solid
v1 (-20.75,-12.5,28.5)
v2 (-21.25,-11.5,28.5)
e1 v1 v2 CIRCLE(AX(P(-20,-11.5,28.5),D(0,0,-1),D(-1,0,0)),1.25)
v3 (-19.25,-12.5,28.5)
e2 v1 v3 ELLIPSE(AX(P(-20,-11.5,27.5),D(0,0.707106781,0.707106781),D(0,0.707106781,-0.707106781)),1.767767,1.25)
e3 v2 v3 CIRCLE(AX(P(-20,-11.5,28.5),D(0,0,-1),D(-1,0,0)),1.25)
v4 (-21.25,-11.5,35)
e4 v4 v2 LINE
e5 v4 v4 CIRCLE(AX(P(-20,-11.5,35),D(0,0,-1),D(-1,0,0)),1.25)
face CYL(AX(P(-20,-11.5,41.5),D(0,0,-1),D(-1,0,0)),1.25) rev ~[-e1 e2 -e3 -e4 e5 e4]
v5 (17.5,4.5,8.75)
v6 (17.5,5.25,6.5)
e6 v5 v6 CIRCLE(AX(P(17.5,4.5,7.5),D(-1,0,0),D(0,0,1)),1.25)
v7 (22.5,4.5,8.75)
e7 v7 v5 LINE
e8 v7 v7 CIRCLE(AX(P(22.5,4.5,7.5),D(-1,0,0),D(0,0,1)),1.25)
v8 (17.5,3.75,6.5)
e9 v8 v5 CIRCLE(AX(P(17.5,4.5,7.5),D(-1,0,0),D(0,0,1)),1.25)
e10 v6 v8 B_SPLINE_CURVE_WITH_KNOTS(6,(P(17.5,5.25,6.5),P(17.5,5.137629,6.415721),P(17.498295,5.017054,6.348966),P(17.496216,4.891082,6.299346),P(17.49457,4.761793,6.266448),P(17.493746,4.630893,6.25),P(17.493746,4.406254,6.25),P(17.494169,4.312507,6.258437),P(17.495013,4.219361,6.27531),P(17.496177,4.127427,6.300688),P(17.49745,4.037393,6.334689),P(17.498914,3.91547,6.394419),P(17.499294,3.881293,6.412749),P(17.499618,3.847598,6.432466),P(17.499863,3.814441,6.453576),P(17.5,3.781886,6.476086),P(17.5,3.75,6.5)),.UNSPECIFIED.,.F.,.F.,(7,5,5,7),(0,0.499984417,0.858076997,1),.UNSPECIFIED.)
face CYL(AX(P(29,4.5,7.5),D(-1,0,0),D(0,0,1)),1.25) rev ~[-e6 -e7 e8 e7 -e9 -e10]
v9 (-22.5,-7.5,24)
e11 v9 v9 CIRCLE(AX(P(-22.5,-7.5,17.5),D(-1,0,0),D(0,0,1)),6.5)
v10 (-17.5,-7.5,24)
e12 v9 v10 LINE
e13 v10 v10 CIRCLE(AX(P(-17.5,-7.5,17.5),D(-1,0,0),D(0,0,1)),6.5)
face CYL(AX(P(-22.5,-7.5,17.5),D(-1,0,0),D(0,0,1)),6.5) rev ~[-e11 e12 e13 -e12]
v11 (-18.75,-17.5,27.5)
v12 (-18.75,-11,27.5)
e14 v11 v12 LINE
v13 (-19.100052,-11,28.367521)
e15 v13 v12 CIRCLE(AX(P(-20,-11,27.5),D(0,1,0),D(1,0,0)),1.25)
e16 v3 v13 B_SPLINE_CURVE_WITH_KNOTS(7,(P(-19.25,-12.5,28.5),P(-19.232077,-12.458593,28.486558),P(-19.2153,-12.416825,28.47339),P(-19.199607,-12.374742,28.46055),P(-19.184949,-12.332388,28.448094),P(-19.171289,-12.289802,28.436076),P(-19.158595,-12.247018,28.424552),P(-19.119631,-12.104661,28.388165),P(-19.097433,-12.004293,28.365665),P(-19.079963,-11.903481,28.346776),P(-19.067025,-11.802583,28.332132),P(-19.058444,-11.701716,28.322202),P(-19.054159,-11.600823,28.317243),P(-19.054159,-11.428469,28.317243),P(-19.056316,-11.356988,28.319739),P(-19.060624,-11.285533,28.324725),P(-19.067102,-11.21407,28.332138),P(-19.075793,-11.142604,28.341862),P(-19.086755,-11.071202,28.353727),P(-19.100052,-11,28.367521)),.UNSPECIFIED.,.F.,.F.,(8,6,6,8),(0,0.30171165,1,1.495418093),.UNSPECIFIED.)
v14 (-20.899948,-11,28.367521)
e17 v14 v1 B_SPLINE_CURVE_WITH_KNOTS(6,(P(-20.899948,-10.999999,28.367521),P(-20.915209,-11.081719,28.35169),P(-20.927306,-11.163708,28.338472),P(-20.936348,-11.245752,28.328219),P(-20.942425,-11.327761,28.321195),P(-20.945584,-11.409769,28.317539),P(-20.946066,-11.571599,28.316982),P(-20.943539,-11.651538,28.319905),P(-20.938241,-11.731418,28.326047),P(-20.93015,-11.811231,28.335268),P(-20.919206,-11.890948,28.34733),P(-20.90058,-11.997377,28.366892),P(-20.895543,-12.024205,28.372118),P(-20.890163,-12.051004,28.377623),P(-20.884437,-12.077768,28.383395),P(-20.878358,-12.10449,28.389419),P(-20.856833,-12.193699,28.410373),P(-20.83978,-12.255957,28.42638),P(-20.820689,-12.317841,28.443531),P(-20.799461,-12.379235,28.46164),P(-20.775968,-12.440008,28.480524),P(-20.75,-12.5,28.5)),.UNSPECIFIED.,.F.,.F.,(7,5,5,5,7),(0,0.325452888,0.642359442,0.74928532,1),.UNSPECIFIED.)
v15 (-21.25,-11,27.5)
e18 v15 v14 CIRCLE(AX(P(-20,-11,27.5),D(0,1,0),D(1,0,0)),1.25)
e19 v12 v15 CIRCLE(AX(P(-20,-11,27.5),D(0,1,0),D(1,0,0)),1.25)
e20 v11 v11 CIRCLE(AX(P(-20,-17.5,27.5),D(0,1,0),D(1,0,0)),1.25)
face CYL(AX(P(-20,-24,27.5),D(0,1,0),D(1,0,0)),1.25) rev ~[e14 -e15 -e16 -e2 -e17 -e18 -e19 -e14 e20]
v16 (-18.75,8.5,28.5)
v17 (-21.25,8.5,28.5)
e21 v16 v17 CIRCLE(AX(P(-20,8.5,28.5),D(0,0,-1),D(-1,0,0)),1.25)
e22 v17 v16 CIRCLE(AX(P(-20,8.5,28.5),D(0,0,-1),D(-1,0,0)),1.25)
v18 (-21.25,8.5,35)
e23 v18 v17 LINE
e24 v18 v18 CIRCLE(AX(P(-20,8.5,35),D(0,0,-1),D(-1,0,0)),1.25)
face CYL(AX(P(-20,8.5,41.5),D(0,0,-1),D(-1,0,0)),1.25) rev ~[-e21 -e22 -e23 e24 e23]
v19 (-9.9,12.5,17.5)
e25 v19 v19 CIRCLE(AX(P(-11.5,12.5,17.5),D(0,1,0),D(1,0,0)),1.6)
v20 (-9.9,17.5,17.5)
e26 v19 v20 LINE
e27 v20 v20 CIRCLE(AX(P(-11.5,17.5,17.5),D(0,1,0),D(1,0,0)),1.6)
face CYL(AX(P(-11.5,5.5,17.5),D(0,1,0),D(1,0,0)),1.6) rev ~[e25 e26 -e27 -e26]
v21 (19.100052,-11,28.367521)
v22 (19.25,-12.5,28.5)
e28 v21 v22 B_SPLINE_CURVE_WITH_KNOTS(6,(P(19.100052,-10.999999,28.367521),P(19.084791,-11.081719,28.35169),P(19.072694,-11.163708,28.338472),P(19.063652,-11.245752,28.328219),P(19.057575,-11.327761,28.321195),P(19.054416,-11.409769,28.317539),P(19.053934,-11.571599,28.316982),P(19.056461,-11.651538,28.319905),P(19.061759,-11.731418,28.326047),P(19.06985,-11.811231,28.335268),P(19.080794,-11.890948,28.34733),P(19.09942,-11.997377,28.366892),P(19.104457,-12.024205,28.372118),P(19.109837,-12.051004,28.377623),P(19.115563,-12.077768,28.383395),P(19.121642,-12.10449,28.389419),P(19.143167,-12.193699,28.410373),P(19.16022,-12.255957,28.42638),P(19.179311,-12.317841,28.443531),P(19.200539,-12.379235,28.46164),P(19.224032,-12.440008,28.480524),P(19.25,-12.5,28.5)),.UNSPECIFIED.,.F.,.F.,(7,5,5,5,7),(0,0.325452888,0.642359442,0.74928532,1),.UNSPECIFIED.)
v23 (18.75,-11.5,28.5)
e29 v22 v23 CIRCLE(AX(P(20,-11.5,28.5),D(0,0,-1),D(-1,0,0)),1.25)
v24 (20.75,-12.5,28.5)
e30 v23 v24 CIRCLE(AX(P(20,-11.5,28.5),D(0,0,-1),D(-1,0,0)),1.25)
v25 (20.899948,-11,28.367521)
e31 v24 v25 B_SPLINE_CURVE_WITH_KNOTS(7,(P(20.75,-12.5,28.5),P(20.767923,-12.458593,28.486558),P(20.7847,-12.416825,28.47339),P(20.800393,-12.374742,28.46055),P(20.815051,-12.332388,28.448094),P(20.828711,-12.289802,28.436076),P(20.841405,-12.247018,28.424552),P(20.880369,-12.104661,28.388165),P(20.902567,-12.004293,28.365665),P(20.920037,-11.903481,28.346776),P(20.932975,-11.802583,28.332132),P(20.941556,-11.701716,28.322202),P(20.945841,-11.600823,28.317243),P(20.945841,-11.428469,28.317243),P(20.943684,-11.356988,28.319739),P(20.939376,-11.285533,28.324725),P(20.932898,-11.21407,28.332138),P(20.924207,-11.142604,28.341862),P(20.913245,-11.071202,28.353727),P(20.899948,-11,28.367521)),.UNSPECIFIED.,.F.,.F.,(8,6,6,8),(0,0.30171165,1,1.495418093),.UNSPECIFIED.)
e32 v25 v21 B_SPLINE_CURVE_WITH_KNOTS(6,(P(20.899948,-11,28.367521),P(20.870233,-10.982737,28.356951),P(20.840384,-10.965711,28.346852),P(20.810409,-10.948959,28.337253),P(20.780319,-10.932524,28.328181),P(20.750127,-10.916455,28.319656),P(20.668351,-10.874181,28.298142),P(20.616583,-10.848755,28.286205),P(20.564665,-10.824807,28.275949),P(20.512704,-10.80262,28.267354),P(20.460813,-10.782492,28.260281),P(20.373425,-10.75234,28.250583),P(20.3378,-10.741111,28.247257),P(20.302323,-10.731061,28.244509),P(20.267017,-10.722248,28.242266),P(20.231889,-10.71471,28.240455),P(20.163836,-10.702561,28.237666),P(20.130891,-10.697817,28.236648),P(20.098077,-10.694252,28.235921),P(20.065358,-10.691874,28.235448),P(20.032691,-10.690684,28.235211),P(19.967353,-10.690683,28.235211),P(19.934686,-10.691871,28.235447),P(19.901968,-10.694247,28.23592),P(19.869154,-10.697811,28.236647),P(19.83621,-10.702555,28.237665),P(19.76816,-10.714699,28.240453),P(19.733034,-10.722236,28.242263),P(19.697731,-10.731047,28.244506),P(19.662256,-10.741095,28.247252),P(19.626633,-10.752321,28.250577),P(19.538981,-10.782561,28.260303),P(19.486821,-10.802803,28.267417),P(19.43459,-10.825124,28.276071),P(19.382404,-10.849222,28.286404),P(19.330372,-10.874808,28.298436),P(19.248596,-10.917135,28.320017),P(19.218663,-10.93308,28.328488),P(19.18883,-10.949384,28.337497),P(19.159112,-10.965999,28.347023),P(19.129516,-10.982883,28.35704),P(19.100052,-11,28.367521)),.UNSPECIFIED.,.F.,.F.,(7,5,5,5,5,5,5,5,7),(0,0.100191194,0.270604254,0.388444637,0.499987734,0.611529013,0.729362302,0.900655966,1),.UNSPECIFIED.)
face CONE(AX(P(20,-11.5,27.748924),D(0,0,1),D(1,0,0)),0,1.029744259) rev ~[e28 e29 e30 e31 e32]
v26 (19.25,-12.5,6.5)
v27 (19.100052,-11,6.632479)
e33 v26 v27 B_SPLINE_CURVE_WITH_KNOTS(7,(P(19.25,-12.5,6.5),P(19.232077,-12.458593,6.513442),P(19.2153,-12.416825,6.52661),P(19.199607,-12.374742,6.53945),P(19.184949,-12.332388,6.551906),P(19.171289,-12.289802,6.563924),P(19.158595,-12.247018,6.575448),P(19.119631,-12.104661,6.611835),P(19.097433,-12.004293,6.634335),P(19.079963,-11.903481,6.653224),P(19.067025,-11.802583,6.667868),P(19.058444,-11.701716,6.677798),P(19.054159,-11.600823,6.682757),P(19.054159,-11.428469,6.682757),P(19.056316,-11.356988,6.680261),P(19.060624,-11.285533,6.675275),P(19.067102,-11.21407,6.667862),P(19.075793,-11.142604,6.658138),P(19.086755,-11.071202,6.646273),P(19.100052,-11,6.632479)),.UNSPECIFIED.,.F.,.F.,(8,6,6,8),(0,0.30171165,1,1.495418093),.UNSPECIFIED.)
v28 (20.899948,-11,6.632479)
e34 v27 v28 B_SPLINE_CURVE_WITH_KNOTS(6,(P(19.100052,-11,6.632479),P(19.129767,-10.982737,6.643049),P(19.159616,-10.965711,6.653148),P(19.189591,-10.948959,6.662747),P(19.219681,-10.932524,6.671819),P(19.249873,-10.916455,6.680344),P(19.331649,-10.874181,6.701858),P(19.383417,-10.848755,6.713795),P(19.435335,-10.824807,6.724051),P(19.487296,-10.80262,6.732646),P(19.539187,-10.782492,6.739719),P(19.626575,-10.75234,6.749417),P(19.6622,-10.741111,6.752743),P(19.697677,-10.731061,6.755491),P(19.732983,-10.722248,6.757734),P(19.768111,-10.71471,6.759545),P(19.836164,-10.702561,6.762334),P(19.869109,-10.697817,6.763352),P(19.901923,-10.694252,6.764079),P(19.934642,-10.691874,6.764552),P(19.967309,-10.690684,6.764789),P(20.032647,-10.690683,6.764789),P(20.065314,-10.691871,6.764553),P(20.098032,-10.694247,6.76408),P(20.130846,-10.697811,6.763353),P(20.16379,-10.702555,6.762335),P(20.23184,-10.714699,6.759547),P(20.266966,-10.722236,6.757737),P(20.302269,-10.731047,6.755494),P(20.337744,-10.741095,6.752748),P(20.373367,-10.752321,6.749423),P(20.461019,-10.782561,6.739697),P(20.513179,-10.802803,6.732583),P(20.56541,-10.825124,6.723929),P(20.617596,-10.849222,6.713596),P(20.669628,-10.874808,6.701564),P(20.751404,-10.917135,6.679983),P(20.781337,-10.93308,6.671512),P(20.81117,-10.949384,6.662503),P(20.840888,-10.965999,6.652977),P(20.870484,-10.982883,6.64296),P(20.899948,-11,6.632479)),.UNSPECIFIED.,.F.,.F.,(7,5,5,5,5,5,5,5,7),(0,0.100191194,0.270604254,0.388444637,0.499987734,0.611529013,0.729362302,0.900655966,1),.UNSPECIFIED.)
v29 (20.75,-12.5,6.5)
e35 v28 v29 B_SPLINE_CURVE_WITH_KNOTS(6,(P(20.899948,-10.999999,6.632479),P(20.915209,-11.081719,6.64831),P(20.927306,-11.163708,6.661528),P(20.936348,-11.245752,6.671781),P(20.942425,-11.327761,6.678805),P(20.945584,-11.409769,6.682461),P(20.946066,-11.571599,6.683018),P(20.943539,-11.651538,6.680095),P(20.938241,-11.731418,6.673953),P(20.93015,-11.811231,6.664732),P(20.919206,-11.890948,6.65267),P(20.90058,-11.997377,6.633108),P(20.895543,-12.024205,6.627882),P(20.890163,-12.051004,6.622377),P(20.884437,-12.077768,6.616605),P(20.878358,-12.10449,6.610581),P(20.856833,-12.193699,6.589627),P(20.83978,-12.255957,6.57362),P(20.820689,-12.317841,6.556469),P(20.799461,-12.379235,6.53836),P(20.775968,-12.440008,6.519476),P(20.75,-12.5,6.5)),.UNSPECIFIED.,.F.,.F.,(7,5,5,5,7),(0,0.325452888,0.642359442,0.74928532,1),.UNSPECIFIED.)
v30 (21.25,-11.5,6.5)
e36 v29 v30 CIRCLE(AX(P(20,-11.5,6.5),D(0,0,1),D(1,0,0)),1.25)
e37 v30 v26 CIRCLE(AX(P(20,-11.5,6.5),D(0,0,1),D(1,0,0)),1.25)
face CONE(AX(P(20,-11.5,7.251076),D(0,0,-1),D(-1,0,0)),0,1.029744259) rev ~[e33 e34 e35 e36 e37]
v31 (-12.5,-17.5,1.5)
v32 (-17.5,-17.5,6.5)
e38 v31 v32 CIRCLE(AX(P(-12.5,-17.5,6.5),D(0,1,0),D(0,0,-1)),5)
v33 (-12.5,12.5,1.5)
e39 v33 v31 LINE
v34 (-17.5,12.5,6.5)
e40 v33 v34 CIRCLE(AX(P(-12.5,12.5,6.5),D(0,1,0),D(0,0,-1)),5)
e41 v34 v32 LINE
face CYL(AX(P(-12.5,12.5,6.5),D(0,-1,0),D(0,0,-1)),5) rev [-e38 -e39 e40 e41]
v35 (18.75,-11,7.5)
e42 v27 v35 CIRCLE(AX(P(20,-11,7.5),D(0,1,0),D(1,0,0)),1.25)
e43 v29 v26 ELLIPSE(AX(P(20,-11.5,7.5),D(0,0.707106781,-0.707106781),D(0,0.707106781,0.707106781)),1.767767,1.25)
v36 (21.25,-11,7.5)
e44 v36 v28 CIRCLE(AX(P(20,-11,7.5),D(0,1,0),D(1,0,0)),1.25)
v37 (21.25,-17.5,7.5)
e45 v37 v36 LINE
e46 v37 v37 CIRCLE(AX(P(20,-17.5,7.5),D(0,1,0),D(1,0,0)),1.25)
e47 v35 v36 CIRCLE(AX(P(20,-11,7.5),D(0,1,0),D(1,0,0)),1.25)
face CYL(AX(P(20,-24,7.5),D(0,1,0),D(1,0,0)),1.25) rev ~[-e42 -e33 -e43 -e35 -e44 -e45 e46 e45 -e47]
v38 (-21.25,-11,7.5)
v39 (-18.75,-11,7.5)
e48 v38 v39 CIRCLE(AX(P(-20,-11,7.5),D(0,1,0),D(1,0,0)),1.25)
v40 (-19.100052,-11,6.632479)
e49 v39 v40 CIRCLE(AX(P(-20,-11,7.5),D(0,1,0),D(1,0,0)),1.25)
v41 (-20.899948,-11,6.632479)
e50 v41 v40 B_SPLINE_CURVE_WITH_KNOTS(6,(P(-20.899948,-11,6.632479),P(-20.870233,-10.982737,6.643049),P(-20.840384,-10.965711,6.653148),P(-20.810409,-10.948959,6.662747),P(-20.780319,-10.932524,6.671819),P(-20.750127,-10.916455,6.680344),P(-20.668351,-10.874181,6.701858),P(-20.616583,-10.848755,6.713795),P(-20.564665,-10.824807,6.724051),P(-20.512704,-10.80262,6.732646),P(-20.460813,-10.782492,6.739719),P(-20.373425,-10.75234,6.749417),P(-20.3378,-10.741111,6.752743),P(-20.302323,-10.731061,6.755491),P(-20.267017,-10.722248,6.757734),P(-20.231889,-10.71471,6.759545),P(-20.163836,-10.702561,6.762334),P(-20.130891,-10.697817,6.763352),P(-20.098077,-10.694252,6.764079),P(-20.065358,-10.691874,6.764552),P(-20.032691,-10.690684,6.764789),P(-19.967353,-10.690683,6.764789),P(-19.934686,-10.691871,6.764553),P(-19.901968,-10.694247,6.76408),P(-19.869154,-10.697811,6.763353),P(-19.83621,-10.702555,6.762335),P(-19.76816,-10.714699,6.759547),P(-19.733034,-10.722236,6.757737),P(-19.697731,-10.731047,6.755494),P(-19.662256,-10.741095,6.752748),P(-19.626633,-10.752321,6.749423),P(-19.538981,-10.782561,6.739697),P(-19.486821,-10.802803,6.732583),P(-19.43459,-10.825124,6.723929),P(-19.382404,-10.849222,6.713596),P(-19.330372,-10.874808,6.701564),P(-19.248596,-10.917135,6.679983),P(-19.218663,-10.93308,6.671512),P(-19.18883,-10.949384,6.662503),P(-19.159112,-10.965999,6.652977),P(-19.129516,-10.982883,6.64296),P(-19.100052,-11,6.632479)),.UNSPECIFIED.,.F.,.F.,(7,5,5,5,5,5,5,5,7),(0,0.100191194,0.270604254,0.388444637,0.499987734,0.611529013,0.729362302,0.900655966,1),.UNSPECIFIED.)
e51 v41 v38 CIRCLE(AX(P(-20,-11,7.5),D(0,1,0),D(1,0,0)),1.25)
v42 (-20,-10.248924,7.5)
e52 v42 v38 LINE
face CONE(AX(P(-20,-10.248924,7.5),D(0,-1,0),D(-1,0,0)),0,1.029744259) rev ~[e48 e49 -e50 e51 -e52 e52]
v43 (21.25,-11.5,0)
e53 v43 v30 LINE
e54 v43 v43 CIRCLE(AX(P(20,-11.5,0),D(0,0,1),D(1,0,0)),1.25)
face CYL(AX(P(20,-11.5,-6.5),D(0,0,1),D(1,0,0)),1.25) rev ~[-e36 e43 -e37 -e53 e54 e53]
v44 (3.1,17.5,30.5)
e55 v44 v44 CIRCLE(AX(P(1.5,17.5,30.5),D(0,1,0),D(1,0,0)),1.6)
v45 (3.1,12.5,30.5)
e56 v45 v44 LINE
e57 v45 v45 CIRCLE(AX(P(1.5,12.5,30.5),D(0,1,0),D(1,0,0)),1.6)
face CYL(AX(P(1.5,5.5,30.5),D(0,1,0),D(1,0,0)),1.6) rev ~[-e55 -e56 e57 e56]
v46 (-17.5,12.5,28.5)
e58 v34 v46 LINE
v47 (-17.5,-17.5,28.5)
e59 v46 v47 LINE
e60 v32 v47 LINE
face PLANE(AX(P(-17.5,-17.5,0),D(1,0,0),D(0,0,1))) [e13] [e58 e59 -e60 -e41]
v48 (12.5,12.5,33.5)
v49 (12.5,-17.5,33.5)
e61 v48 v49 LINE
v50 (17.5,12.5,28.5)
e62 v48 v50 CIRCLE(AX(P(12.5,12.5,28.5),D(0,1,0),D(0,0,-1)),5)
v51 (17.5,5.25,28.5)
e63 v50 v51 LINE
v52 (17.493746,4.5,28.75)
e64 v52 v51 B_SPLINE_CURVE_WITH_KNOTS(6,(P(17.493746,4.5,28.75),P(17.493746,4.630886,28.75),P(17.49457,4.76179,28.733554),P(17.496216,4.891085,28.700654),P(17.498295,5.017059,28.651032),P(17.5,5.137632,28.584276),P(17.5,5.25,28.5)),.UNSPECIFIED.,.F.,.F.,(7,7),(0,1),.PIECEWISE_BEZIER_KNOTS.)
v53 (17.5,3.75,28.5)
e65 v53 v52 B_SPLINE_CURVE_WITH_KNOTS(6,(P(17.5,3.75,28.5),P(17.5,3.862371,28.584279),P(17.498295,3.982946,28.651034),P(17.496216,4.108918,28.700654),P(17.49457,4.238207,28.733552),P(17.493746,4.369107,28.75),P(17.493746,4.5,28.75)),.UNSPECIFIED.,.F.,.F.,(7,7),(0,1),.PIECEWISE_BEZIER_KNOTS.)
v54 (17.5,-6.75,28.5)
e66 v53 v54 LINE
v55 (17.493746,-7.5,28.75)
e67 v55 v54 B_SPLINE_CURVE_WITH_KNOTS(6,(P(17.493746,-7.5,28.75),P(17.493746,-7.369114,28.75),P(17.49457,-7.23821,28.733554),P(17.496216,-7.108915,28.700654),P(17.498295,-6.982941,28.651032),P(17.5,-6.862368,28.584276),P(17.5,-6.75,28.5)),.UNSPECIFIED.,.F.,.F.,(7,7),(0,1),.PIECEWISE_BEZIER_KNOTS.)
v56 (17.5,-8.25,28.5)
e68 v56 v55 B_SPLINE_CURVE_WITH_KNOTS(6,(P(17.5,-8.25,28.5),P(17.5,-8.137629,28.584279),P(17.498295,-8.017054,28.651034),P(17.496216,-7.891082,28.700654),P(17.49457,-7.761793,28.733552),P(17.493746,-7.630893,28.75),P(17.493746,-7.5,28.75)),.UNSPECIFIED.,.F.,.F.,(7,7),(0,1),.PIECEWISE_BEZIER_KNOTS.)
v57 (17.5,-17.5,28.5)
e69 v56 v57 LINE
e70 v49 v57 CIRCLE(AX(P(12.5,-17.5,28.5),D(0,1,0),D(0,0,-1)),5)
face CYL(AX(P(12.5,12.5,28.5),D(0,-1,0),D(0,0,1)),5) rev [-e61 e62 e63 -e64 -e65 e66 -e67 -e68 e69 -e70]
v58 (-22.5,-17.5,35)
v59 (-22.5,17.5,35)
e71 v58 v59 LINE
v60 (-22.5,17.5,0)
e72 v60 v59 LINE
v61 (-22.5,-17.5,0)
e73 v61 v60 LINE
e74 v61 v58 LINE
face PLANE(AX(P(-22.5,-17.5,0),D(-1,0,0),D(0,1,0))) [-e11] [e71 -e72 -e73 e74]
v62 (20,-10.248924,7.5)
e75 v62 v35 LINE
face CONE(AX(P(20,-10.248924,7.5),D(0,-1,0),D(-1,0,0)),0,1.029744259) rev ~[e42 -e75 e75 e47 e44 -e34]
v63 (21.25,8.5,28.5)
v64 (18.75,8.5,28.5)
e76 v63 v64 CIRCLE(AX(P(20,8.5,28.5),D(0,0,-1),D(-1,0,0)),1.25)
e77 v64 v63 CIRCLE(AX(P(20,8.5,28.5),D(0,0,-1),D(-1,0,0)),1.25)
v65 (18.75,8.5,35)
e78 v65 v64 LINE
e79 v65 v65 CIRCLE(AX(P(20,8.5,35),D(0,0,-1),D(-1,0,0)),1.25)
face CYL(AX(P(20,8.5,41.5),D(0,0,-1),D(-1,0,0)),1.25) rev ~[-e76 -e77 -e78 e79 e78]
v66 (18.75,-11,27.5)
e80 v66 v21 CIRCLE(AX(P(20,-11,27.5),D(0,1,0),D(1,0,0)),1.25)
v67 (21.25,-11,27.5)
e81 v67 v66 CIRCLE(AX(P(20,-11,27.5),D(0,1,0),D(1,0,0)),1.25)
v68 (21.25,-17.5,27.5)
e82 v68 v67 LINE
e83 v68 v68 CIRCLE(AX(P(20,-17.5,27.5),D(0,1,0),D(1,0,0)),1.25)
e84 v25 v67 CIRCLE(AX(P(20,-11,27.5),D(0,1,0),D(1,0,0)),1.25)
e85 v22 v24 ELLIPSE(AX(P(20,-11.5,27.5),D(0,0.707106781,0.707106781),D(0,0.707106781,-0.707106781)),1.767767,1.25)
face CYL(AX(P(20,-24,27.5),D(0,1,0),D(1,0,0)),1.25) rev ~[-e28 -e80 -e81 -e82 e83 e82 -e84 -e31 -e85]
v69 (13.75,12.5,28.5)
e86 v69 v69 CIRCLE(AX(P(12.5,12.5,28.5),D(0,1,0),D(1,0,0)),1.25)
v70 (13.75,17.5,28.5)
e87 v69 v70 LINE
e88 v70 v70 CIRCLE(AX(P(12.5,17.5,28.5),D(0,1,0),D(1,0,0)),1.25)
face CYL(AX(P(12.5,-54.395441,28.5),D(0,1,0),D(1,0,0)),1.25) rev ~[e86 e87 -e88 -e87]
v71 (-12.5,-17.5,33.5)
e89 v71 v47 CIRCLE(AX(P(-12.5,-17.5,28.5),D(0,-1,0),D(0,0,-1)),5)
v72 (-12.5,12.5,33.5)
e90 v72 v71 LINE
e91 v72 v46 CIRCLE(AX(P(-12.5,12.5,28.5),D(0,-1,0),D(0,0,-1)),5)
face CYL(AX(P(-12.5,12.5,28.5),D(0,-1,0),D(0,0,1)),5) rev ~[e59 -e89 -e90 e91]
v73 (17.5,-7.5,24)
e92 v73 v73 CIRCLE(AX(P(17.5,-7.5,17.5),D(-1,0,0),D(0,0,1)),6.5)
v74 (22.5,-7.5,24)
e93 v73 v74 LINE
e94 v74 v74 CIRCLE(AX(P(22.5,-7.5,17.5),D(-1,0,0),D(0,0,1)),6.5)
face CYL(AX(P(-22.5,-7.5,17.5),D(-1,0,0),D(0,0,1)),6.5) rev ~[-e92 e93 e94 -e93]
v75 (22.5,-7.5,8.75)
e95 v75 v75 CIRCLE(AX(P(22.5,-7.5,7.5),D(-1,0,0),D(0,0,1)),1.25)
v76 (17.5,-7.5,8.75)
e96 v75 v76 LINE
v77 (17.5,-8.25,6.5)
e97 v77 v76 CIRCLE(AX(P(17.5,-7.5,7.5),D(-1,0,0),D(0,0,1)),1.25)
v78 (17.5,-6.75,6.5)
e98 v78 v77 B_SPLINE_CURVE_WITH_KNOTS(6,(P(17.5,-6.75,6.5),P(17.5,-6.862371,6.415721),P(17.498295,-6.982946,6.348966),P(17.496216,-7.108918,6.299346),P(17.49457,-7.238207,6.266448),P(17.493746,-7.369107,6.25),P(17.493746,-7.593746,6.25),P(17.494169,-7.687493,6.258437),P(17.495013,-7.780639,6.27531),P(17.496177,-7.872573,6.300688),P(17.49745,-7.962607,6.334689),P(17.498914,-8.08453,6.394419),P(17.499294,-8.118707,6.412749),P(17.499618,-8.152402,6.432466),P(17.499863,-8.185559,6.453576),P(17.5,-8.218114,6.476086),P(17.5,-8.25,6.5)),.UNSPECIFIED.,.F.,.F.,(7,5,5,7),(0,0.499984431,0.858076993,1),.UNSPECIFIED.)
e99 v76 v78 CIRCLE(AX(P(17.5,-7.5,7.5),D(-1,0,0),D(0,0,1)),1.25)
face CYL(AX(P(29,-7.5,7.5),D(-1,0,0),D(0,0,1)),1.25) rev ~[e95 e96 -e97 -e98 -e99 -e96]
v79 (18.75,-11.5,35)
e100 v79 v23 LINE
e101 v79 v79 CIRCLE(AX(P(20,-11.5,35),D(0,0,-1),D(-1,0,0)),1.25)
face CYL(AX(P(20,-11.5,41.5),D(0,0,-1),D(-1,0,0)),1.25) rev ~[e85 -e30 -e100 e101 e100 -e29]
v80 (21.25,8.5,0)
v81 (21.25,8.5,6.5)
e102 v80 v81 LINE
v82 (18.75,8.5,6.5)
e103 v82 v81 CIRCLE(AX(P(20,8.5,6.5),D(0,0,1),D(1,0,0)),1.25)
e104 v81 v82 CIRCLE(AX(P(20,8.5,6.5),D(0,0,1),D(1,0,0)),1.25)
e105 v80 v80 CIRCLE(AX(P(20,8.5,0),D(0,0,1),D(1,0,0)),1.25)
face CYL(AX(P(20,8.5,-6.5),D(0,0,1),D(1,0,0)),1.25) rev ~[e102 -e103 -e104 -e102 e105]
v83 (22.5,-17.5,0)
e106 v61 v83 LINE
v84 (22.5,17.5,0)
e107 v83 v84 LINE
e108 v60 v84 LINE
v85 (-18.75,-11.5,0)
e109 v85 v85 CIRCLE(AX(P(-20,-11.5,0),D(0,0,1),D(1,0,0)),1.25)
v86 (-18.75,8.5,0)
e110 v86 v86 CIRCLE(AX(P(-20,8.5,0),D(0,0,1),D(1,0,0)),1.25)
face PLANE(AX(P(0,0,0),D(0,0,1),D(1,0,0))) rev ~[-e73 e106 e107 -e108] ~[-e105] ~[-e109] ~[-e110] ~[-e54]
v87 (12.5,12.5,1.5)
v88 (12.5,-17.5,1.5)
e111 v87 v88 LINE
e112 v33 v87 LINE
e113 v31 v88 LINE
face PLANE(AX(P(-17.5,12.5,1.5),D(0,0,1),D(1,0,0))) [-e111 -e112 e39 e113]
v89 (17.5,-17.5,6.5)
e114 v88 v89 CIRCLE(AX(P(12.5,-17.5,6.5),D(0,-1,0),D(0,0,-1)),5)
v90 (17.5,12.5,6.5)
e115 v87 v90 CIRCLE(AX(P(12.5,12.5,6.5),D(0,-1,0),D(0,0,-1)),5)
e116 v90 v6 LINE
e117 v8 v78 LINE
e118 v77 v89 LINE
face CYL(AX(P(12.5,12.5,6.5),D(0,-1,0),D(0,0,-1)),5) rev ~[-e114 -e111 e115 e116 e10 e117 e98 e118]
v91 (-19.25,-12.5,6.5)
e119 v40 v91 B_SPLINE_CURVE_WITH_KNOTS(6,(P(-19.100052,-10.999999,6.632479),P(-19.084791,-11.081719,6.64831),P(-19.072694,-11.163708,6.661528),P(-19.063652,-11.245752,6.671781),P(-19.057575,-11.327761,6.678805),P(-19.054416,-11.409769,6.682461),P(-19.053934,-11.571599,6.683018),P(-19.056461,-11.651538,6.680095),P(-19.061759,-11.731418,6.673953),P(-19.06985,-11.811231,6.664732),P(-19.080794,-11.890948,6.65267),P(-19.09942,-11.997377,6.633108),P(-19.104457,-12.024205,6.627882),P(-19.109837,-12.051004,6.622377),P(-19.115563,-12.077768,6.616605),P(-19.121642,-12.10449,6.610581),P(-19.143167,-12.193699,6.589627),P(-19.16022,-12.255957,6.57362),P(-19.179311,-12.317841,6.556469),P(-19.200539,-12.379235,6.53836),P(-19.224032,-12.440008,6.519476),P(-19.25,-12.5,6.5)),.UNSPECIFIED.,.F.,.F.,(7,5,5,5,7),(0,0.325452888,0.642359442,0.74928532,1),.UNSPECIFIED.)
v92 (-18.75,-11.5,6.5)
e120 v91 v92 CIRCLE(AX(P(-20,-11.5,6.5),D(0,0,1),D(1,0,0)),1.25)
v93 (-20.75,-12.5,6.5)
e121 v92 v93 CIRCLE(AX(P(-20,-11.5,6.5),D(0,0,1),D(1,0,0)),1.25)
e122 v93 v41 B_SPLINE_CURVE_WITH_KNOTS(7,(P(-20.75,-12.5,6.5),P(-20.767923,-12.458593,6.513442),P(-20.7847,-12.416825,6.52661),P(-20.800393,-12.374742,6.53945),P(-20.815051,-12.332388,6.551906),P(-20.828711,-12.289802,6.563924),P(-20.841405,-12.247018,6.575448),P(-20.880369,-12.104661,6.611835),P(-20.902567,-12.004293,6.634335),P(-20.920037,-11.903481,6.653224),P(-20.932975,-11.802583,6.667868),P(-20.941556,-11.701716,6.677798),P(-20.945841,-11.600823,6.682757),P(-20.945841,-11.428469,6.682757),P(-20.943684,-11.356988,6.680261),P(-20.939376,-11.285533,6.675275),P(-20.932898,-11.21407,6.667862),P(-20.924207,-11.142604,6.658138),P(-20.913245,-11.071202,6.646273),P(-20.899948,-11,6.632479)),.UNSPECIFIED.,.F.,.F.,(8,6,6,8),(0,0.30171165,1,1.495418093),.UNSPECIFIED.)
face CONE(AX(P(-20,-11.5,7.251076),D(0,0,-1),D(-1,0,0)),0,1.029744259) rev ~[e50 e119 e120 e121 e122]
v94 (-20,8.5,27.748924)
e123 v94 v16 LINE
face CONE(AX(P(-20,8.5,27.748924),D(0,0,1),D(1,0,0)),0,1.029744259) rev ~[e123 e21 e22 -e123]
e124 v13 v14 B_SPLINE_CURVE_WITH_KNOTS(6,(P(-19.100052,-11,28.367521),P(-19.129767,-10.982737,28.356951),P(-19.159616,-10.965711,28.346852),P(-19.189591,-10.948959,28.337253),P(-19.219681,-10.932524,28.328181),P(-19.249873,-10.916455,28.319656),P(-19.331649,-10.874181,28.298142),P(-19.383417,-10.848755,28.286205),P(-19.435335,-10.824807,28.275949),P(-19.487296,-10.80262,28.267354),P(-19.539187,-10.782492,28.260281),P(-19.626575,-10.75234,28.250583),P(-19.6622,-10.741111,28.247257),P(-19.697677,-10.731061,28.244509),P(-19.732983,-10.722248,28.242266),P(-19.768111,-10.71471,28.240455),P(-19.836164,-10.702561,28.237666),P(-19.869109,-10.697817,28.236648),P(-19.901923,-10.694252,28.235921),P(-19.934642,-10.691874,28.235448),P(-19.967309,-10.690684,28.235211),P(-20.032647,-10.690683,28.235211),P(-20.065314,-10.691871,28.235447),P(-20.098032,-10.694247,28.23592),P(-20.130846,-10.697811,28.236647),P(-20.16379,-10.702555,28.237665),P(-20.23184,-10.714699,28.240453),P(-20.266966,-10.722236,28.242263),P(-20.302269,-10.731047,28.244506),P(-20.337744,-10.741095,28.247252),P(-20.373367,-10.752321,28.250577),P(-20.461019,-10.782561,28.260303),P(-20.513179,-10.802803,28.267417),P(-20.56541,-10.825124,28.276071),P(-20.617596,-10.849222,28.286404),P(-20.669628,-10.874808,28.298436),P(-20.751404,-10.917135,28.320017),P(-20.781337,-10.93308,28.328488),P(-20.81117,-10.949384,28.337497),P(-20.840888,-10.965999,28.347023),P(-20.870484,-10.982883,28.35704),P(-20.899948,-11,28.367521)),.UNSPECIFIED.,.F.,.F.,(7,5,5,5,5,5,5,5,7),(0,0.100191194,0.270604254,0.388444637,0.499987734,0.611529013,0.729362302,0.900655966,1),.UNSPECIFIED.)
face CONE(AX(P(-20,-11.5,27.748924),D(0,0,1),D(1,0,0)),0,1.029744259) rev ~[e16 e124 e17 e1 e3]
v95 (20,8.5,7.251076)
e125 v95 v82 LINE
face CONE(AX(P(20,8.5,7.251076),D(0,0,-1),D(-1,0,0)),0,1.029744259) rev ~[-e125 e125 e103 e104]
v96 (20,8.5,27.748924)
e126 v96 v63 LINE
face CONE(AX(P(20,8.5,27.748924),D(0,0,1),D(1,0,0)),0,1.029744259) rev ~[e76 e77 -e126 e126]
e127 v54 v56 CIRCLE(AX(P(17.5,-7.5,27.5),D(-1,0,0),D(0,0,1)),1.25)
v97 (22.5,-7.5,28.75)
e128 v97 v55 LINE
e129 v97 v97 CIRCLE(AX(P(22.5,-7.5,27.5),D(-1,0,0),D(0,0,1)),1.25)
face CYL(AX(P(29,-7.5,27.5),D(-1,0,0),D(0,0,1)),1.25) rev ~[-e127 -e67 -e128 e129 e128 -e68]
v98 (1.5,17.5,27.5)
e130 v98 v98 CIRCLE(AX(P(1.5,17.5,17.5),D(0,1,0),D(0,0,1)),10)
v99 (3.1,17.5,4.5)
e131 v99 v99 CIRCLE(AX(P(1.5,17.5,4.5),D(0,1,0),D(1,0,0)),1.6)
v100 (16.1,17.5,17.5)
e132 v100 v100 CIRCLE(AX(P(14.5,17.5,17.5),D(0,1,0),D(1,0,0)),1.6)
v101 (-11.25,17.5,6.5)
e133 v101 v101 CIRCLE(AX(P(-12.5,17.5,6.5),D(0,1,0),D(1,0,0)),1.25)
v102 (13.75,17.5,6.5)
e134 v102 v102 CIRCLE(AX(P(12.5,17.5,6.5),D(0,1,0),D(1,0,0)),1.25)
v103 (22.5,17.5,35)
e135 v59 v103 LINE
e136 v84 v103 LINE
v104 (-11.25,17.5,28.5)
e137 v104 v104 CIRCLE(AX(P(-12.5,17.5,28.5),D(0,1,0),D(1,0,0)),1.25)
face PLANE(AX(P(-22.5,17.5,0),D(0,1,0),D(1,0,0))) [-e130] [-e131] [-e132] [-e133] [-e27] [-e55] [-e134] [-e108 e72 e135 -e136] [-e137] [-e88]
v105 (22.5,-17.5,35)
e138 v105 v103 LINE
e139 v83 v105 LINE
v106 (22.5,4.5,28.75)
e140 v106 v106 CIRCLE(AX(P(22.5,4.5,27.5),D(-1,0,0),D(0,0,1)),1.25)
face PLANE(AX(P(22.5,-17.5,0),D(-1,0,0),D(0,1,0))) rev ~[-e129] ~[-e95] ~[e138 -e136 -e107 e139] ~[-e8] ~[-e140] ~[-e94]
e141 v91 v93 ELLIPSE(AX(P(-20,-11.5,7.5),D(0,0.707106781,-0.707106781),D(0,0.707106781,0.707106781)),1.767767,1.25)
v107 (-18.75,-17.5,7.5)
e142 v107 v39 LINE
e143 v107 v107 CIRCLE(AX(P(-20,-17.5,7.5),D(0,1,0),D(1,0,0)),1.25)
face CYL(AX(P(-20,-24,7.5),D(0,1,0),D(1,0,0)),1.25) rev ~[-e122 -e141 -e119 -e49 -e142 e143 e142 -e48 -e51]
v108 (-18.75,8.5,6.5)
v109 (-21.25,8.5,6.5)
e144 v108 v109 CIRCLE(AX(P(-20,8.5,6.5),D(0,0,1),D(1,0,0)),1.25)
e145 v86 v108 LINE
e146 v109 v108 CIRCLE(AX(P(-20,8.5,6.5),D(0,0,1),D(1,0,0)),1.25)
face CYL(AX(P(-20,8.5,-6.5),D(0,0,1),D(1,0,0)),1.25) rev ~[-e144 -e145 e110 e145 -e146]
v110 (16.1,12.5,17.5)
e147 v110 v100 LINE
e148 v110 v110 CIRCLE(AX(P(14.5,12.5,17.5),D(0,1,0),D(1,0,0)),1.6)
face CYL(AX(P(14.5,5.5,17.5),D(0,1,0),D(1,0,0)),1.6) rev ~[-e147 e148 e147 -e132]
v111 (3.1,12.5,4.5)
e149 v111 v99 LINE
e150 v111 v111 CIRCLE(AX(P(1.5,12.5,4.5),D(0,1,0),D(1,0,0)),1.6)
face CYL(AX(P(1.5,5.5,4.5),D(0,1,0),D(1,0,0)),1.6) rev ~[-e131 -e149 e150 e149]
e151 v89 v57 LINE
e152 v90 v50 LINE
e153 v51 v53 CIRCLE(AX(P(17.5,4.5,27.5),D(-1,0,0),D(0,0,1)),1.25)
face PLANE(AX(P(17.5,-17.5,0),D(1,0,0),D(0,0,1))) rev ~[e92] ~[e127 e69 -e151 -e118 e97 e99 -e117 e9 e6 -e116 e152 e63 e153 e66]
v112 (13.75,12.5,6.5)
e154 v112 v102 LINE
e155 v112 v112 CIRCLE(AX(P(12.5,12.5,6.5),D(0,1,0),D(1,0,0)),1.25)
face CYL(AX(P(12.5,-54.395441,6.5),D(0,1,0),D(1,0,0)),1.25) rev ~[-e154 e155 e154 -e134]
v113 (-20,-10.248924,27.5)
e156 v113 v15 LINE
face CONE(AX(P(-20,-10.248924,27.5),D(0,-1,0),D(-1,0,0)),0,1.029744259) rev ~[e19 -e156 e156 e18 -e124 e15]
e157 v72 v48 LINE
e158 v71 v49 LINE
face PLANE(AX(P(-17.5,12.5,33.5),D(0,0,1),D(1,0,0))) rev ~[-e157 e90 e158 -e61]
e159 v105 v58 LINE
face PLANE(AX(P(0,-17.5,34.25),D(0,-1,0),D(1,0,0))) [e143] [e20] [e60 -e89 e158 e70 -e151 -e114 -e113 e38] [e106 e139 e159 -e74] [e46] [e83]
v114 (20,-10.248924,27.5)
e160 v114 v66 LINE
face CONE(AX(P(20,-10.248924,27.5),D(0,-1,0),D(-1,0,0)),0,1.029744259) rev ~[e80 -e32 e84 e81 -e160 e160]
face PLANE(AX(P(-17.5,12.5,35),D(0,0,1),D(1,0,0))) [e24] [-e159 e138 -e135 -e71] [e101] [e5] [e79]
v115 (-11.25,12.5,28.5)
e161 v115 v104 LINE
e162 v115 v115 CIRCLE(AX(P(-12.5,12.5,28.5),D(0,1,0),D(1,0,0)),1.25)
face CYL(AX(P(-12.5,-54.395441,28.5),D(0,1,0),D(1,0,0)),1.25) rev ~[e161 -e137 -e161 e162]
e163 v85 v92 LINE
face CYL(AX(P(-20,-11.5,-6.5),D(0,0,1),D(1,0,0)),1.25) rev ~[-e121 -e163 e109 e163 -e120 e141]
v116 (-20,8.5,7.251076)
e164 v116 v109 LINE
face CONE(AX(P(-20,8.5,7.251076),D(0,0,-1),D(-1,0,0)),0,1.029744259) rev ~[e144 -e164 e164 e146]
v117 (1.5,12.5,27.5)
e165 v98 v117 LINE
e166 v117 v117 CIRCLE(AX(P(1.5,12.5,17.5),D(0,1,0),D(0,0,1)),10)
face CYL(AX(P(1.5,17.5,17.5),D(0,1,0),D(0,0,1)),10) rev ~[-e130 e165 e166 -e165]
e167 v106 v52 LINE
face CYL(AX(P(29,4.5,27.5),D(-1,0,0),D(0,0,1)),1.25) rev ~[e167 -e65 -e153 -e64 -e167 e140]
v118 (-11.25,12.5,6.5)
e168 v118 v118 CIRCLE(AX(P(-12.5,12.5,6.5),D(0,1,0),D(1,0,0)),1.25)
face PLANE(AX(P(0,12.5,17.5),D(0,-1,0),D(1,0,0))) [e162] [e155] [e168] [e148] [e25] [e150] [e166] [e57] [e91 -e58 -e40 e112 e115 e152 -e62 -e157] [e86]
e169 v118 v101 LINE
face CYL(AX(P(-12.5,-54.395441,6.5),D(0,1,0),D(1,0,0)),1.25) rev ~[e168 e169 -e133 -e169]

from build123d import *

# Parameters (mm, degrees)
ESQUISSE1_W                         = 45
ESQUISSE1_H                         = 35
BOSS_EXTRU_1_DEPTH                  = 35
ESQUISSE2_R                         = 10
ENL_V_MAT_EXTRU_1_DEPTH             = 10
ESQUISSE3_W                         = 35
ESQUISSE3_H                         = 35
ENL_V_MAT_EXTRU_2_DEPTH             = 30
ESQUISSE4_R                         = 6.5
ENL_V_MAT_EXTRU_3_DEPTH             = 60.634302209
ESQUISSE15_W                        = 35
ESQUISSE15_H                        = 1.5
BOSS_EXTRU_2_DEPTH                  = 30
CONG_1_R                            = 5
DIAM_TRE_DU_PER_AGE_3_2_3_2_1_D     = 3.2
DIAM_TRE_DU_PER_AGE_3_2_3_2_1_DEPTH = 7
TROU_TARAUD_M3X0_52_D               = 2.5
TROU_TARAUD_M3X0_52_DEPTH           = 6.5
TROU_TARAUD_M3X0_52_TIP             = 0.751075774
TROU_TARAUD_M3X0_53_D               = 2.5
TROU_TARAUD_M3X0_53_DEPTH           = 6.5
TROU_TARAUD_M3X0_53_TIP             = 0.751075774
TROU_TARAUD_M3X0_54_D               = 2.5
TROU_TARAUD_M3X0_54_DEPTH           = 6.5
TROU_TARAUD_M3X0_54_TIP             = 0.751075774
TROU_TARAUD_M3X0_56_D               = 2.5
TROU_TARAUD_M3X0_56_DEPTH           = 6.5
TROU_TARAUD_M3X0_56_TIP             = 0.751075774
TROU_TARAUD_M3X0_57_D               = 2.5


with BuildPart() as part:
    # Esquisse1 → Boss.-Extru.1 (new body)
    with BuildSketch(Plane.XY):
        Rectangle(ESQUISSE1_W, ESQUISSE1_H)
    extrude(amount=BOSS_EXTRU_1_DEPTH)

    # Esquisse2 → Enlèv. mat.-Extru.1 (cut)
    with BuildSketch(Plane(origin=(0, 17.5, 0), x_dir=(1, 0, 0), z_dir=(0, 1, 0))):
        with Locations(Location((1.5, -17.5, 0), (0, 0, 270))):
            Circle(ESQUISSE2_R)
    extrude(amount=-ENL_V_MAT_EXTRU_1_DEPTH, mode=Mode.SUBTRACT)

    # Esquisse3 → Enlèv. mat.-Extru.2 (cut)
    with BuildSketch(Plane.XZ.offset(17.5)):
        with Locations((0, 17.5)):
            Rectangle(ESQUISSE3_W, ESQUISSE3_H)
    extrude(amount=-ENL_V_MAT_EXTRU_2_DEPTH, mode=Mode.SUBTRACT)

    # Esquisse4 → Enlèv. mat.-Extru.3 (cut, through all)
    with BuildSketch(Plane.ZY.offset(22.5)):
        with Locations((17.5, -7.5)):
            Circle(ESQUISSE4_R)
    extrude(amount=-ENL_V_MAT_EXTRU_3_DEPTH, mode=Mode.SUBTRACT)

    # Esquisse15 → Boss.-Extru.2 (add)
    with BuildSketch(Plane.XZ.offset(-12.5)):
        with Locations((0, 34.25)):
            Rectangle(ESQUISSE15_W, ESQUISSE15_H)
        with Locations((0, 0.75)):
            Rectangle(ESQUISSE15_W, ESQUISSE15_H)
    extrude(amount=BOSS_EXTRU_2_DEPTH)

    # Congé1
    cong_1_edges = [part.edges().sort_by_distance(p)[0] for p in [
        (17.5, -2.5, 33.5),
        (-17.5, -2.5, 33.5),
        (17.5, -2.5, 1.5),
        (-17.5, -2.5, 1.5),
    ]]
    fillet(cong_1_edges, radius=CONG_1_R)

    # Diamètre du perçage Ø3.2 (3.2)1
    with Locations(Plane(origin=(0, 12.5, 0), x_dir=(-1, 0, 0), z_dir=(0, -1, 0))):
        with Locations((-14.5, -17.5), (-1.5, -4.5), (11.5, -17.5), (-1.5, -30.5)):
            Hole(DIAM_TRE_DU_PER_AGE_3_2_3_2_1_D / 2, depth=DIAM_TRE_DU_PER_AGE_3_2_3_2_1_DEPTH)

    # Trou taraudé M3x0.52
    with Locations(Plane(origin=(0, -17.5, 0), x_dir=(-1, 0, 0), z_dir=(0, -1, 0))):
        with Locations((-20, -7.5), (20, -27.5), (-20, -27.5), (20, -7.5)):
            Hole(TROU_TARAUD_M3X0_52_D / 2, depth=TROU_TARAUD_M3X0_52_DEPTH)
            with Locations((0, 0, -(TROU_TARAUD_M3X0_52_DEPTH + TROU_TARAUD_M3X0_52_TIP / 2))):  # 118° drill point
                Cone(0, TROU_TARAUD_M3X0_52_D / 2, TROU_TARAUD_M3X0_52_TIP, mode=Mode.SUBTRACT)

    # Trou taraudé M3x0.53
    with Locations(Plane(origin=(0, 0, 0), x_dir=(-1, 0, 0), z_dir=(0, 0, -1))):
        with Locations((-20, 8.5), (20, -11.5), (-20, -11.5), (20, 8.5)):
            Hole(TROU_TARAUD_M3X0_53_D / 2, depth=TROU_TARAUD_M3X0_53_DEPTH)
            with Locations((0, 0, -(TROU_TARAUD_M3X0_53_DEPTH + TROU_TARAUD_M3X0_53_TIP / 2))):  # 118° drill point
                Cone(0, TROU_TARAUD_M3X0_53_D / 2, TROU_TARAUD_M3X0_53_TIP, mode=Mode.SUBTRACT)

    # Trou taraudé M3x0.54
    with Locations(Plane.XY.offset(35)):
        with Locations((20, 8.5), (-20, 8.5), (20, -11.5), (-20, -11.5)):
            Hole(TROU_TARAUD_M3X0_54_D / 2, depth=TROU_TARAUD_M3X0_54_DEPTH)
            with Locations((0, 0, -(TROU_TARAUD_M3X0_54_DEPTH + TROU_TARAUD_M3X0_54_TIP / 2))):  # 118° drill point
                Cone(0, TROU_TARAUD_M3X0_54_D / 2, TROU_TARAUD_M3X0_54_TIP, mode=Mode.SUBTRACT)

    # Trou taraudé M3x0.56
    with Locations(Plane(origin=(22.5, 0, 0), x_dir=(0, 0, -1), z_dir=(1, 0, 0))):
        with Locations((-27.5, -7.5), (-7.5, 4.5), (-27.5, 4.5), (-7.5, -7.5)):
            Hole(TROU_TARAUD_M3X0_56_D / 2, depth=TROU_TARAUD_M3X0_56_DEPTH)
            with Locations((0, 0, -(TROU_TARAUD_M3X0_56_DEPTH + TROU_TARAUD_M3X0_56_TIP / 2))):  # 118° drill point
                Cone(0, TROU_TARAUD_M3X0_56_D / 2, TROU_TARAUD_M3X0_56_TIP, mode=Mode.SUBTRACT)

    # Trou taraudé M3x0.57 (through all)
    with Locations(Plane(origin=(0, 12.5, 0), x_dir=(-1, 0, 0), z_dir=(0, -1, 0))):
        with Locations((-12.5, -28.5), (12.5, -6.5), (-12.5, -6.5), (12.5, -28.5)):
            Hole(TROU_TARAUD_M3X0_57_D / 2)


solid = part.part
